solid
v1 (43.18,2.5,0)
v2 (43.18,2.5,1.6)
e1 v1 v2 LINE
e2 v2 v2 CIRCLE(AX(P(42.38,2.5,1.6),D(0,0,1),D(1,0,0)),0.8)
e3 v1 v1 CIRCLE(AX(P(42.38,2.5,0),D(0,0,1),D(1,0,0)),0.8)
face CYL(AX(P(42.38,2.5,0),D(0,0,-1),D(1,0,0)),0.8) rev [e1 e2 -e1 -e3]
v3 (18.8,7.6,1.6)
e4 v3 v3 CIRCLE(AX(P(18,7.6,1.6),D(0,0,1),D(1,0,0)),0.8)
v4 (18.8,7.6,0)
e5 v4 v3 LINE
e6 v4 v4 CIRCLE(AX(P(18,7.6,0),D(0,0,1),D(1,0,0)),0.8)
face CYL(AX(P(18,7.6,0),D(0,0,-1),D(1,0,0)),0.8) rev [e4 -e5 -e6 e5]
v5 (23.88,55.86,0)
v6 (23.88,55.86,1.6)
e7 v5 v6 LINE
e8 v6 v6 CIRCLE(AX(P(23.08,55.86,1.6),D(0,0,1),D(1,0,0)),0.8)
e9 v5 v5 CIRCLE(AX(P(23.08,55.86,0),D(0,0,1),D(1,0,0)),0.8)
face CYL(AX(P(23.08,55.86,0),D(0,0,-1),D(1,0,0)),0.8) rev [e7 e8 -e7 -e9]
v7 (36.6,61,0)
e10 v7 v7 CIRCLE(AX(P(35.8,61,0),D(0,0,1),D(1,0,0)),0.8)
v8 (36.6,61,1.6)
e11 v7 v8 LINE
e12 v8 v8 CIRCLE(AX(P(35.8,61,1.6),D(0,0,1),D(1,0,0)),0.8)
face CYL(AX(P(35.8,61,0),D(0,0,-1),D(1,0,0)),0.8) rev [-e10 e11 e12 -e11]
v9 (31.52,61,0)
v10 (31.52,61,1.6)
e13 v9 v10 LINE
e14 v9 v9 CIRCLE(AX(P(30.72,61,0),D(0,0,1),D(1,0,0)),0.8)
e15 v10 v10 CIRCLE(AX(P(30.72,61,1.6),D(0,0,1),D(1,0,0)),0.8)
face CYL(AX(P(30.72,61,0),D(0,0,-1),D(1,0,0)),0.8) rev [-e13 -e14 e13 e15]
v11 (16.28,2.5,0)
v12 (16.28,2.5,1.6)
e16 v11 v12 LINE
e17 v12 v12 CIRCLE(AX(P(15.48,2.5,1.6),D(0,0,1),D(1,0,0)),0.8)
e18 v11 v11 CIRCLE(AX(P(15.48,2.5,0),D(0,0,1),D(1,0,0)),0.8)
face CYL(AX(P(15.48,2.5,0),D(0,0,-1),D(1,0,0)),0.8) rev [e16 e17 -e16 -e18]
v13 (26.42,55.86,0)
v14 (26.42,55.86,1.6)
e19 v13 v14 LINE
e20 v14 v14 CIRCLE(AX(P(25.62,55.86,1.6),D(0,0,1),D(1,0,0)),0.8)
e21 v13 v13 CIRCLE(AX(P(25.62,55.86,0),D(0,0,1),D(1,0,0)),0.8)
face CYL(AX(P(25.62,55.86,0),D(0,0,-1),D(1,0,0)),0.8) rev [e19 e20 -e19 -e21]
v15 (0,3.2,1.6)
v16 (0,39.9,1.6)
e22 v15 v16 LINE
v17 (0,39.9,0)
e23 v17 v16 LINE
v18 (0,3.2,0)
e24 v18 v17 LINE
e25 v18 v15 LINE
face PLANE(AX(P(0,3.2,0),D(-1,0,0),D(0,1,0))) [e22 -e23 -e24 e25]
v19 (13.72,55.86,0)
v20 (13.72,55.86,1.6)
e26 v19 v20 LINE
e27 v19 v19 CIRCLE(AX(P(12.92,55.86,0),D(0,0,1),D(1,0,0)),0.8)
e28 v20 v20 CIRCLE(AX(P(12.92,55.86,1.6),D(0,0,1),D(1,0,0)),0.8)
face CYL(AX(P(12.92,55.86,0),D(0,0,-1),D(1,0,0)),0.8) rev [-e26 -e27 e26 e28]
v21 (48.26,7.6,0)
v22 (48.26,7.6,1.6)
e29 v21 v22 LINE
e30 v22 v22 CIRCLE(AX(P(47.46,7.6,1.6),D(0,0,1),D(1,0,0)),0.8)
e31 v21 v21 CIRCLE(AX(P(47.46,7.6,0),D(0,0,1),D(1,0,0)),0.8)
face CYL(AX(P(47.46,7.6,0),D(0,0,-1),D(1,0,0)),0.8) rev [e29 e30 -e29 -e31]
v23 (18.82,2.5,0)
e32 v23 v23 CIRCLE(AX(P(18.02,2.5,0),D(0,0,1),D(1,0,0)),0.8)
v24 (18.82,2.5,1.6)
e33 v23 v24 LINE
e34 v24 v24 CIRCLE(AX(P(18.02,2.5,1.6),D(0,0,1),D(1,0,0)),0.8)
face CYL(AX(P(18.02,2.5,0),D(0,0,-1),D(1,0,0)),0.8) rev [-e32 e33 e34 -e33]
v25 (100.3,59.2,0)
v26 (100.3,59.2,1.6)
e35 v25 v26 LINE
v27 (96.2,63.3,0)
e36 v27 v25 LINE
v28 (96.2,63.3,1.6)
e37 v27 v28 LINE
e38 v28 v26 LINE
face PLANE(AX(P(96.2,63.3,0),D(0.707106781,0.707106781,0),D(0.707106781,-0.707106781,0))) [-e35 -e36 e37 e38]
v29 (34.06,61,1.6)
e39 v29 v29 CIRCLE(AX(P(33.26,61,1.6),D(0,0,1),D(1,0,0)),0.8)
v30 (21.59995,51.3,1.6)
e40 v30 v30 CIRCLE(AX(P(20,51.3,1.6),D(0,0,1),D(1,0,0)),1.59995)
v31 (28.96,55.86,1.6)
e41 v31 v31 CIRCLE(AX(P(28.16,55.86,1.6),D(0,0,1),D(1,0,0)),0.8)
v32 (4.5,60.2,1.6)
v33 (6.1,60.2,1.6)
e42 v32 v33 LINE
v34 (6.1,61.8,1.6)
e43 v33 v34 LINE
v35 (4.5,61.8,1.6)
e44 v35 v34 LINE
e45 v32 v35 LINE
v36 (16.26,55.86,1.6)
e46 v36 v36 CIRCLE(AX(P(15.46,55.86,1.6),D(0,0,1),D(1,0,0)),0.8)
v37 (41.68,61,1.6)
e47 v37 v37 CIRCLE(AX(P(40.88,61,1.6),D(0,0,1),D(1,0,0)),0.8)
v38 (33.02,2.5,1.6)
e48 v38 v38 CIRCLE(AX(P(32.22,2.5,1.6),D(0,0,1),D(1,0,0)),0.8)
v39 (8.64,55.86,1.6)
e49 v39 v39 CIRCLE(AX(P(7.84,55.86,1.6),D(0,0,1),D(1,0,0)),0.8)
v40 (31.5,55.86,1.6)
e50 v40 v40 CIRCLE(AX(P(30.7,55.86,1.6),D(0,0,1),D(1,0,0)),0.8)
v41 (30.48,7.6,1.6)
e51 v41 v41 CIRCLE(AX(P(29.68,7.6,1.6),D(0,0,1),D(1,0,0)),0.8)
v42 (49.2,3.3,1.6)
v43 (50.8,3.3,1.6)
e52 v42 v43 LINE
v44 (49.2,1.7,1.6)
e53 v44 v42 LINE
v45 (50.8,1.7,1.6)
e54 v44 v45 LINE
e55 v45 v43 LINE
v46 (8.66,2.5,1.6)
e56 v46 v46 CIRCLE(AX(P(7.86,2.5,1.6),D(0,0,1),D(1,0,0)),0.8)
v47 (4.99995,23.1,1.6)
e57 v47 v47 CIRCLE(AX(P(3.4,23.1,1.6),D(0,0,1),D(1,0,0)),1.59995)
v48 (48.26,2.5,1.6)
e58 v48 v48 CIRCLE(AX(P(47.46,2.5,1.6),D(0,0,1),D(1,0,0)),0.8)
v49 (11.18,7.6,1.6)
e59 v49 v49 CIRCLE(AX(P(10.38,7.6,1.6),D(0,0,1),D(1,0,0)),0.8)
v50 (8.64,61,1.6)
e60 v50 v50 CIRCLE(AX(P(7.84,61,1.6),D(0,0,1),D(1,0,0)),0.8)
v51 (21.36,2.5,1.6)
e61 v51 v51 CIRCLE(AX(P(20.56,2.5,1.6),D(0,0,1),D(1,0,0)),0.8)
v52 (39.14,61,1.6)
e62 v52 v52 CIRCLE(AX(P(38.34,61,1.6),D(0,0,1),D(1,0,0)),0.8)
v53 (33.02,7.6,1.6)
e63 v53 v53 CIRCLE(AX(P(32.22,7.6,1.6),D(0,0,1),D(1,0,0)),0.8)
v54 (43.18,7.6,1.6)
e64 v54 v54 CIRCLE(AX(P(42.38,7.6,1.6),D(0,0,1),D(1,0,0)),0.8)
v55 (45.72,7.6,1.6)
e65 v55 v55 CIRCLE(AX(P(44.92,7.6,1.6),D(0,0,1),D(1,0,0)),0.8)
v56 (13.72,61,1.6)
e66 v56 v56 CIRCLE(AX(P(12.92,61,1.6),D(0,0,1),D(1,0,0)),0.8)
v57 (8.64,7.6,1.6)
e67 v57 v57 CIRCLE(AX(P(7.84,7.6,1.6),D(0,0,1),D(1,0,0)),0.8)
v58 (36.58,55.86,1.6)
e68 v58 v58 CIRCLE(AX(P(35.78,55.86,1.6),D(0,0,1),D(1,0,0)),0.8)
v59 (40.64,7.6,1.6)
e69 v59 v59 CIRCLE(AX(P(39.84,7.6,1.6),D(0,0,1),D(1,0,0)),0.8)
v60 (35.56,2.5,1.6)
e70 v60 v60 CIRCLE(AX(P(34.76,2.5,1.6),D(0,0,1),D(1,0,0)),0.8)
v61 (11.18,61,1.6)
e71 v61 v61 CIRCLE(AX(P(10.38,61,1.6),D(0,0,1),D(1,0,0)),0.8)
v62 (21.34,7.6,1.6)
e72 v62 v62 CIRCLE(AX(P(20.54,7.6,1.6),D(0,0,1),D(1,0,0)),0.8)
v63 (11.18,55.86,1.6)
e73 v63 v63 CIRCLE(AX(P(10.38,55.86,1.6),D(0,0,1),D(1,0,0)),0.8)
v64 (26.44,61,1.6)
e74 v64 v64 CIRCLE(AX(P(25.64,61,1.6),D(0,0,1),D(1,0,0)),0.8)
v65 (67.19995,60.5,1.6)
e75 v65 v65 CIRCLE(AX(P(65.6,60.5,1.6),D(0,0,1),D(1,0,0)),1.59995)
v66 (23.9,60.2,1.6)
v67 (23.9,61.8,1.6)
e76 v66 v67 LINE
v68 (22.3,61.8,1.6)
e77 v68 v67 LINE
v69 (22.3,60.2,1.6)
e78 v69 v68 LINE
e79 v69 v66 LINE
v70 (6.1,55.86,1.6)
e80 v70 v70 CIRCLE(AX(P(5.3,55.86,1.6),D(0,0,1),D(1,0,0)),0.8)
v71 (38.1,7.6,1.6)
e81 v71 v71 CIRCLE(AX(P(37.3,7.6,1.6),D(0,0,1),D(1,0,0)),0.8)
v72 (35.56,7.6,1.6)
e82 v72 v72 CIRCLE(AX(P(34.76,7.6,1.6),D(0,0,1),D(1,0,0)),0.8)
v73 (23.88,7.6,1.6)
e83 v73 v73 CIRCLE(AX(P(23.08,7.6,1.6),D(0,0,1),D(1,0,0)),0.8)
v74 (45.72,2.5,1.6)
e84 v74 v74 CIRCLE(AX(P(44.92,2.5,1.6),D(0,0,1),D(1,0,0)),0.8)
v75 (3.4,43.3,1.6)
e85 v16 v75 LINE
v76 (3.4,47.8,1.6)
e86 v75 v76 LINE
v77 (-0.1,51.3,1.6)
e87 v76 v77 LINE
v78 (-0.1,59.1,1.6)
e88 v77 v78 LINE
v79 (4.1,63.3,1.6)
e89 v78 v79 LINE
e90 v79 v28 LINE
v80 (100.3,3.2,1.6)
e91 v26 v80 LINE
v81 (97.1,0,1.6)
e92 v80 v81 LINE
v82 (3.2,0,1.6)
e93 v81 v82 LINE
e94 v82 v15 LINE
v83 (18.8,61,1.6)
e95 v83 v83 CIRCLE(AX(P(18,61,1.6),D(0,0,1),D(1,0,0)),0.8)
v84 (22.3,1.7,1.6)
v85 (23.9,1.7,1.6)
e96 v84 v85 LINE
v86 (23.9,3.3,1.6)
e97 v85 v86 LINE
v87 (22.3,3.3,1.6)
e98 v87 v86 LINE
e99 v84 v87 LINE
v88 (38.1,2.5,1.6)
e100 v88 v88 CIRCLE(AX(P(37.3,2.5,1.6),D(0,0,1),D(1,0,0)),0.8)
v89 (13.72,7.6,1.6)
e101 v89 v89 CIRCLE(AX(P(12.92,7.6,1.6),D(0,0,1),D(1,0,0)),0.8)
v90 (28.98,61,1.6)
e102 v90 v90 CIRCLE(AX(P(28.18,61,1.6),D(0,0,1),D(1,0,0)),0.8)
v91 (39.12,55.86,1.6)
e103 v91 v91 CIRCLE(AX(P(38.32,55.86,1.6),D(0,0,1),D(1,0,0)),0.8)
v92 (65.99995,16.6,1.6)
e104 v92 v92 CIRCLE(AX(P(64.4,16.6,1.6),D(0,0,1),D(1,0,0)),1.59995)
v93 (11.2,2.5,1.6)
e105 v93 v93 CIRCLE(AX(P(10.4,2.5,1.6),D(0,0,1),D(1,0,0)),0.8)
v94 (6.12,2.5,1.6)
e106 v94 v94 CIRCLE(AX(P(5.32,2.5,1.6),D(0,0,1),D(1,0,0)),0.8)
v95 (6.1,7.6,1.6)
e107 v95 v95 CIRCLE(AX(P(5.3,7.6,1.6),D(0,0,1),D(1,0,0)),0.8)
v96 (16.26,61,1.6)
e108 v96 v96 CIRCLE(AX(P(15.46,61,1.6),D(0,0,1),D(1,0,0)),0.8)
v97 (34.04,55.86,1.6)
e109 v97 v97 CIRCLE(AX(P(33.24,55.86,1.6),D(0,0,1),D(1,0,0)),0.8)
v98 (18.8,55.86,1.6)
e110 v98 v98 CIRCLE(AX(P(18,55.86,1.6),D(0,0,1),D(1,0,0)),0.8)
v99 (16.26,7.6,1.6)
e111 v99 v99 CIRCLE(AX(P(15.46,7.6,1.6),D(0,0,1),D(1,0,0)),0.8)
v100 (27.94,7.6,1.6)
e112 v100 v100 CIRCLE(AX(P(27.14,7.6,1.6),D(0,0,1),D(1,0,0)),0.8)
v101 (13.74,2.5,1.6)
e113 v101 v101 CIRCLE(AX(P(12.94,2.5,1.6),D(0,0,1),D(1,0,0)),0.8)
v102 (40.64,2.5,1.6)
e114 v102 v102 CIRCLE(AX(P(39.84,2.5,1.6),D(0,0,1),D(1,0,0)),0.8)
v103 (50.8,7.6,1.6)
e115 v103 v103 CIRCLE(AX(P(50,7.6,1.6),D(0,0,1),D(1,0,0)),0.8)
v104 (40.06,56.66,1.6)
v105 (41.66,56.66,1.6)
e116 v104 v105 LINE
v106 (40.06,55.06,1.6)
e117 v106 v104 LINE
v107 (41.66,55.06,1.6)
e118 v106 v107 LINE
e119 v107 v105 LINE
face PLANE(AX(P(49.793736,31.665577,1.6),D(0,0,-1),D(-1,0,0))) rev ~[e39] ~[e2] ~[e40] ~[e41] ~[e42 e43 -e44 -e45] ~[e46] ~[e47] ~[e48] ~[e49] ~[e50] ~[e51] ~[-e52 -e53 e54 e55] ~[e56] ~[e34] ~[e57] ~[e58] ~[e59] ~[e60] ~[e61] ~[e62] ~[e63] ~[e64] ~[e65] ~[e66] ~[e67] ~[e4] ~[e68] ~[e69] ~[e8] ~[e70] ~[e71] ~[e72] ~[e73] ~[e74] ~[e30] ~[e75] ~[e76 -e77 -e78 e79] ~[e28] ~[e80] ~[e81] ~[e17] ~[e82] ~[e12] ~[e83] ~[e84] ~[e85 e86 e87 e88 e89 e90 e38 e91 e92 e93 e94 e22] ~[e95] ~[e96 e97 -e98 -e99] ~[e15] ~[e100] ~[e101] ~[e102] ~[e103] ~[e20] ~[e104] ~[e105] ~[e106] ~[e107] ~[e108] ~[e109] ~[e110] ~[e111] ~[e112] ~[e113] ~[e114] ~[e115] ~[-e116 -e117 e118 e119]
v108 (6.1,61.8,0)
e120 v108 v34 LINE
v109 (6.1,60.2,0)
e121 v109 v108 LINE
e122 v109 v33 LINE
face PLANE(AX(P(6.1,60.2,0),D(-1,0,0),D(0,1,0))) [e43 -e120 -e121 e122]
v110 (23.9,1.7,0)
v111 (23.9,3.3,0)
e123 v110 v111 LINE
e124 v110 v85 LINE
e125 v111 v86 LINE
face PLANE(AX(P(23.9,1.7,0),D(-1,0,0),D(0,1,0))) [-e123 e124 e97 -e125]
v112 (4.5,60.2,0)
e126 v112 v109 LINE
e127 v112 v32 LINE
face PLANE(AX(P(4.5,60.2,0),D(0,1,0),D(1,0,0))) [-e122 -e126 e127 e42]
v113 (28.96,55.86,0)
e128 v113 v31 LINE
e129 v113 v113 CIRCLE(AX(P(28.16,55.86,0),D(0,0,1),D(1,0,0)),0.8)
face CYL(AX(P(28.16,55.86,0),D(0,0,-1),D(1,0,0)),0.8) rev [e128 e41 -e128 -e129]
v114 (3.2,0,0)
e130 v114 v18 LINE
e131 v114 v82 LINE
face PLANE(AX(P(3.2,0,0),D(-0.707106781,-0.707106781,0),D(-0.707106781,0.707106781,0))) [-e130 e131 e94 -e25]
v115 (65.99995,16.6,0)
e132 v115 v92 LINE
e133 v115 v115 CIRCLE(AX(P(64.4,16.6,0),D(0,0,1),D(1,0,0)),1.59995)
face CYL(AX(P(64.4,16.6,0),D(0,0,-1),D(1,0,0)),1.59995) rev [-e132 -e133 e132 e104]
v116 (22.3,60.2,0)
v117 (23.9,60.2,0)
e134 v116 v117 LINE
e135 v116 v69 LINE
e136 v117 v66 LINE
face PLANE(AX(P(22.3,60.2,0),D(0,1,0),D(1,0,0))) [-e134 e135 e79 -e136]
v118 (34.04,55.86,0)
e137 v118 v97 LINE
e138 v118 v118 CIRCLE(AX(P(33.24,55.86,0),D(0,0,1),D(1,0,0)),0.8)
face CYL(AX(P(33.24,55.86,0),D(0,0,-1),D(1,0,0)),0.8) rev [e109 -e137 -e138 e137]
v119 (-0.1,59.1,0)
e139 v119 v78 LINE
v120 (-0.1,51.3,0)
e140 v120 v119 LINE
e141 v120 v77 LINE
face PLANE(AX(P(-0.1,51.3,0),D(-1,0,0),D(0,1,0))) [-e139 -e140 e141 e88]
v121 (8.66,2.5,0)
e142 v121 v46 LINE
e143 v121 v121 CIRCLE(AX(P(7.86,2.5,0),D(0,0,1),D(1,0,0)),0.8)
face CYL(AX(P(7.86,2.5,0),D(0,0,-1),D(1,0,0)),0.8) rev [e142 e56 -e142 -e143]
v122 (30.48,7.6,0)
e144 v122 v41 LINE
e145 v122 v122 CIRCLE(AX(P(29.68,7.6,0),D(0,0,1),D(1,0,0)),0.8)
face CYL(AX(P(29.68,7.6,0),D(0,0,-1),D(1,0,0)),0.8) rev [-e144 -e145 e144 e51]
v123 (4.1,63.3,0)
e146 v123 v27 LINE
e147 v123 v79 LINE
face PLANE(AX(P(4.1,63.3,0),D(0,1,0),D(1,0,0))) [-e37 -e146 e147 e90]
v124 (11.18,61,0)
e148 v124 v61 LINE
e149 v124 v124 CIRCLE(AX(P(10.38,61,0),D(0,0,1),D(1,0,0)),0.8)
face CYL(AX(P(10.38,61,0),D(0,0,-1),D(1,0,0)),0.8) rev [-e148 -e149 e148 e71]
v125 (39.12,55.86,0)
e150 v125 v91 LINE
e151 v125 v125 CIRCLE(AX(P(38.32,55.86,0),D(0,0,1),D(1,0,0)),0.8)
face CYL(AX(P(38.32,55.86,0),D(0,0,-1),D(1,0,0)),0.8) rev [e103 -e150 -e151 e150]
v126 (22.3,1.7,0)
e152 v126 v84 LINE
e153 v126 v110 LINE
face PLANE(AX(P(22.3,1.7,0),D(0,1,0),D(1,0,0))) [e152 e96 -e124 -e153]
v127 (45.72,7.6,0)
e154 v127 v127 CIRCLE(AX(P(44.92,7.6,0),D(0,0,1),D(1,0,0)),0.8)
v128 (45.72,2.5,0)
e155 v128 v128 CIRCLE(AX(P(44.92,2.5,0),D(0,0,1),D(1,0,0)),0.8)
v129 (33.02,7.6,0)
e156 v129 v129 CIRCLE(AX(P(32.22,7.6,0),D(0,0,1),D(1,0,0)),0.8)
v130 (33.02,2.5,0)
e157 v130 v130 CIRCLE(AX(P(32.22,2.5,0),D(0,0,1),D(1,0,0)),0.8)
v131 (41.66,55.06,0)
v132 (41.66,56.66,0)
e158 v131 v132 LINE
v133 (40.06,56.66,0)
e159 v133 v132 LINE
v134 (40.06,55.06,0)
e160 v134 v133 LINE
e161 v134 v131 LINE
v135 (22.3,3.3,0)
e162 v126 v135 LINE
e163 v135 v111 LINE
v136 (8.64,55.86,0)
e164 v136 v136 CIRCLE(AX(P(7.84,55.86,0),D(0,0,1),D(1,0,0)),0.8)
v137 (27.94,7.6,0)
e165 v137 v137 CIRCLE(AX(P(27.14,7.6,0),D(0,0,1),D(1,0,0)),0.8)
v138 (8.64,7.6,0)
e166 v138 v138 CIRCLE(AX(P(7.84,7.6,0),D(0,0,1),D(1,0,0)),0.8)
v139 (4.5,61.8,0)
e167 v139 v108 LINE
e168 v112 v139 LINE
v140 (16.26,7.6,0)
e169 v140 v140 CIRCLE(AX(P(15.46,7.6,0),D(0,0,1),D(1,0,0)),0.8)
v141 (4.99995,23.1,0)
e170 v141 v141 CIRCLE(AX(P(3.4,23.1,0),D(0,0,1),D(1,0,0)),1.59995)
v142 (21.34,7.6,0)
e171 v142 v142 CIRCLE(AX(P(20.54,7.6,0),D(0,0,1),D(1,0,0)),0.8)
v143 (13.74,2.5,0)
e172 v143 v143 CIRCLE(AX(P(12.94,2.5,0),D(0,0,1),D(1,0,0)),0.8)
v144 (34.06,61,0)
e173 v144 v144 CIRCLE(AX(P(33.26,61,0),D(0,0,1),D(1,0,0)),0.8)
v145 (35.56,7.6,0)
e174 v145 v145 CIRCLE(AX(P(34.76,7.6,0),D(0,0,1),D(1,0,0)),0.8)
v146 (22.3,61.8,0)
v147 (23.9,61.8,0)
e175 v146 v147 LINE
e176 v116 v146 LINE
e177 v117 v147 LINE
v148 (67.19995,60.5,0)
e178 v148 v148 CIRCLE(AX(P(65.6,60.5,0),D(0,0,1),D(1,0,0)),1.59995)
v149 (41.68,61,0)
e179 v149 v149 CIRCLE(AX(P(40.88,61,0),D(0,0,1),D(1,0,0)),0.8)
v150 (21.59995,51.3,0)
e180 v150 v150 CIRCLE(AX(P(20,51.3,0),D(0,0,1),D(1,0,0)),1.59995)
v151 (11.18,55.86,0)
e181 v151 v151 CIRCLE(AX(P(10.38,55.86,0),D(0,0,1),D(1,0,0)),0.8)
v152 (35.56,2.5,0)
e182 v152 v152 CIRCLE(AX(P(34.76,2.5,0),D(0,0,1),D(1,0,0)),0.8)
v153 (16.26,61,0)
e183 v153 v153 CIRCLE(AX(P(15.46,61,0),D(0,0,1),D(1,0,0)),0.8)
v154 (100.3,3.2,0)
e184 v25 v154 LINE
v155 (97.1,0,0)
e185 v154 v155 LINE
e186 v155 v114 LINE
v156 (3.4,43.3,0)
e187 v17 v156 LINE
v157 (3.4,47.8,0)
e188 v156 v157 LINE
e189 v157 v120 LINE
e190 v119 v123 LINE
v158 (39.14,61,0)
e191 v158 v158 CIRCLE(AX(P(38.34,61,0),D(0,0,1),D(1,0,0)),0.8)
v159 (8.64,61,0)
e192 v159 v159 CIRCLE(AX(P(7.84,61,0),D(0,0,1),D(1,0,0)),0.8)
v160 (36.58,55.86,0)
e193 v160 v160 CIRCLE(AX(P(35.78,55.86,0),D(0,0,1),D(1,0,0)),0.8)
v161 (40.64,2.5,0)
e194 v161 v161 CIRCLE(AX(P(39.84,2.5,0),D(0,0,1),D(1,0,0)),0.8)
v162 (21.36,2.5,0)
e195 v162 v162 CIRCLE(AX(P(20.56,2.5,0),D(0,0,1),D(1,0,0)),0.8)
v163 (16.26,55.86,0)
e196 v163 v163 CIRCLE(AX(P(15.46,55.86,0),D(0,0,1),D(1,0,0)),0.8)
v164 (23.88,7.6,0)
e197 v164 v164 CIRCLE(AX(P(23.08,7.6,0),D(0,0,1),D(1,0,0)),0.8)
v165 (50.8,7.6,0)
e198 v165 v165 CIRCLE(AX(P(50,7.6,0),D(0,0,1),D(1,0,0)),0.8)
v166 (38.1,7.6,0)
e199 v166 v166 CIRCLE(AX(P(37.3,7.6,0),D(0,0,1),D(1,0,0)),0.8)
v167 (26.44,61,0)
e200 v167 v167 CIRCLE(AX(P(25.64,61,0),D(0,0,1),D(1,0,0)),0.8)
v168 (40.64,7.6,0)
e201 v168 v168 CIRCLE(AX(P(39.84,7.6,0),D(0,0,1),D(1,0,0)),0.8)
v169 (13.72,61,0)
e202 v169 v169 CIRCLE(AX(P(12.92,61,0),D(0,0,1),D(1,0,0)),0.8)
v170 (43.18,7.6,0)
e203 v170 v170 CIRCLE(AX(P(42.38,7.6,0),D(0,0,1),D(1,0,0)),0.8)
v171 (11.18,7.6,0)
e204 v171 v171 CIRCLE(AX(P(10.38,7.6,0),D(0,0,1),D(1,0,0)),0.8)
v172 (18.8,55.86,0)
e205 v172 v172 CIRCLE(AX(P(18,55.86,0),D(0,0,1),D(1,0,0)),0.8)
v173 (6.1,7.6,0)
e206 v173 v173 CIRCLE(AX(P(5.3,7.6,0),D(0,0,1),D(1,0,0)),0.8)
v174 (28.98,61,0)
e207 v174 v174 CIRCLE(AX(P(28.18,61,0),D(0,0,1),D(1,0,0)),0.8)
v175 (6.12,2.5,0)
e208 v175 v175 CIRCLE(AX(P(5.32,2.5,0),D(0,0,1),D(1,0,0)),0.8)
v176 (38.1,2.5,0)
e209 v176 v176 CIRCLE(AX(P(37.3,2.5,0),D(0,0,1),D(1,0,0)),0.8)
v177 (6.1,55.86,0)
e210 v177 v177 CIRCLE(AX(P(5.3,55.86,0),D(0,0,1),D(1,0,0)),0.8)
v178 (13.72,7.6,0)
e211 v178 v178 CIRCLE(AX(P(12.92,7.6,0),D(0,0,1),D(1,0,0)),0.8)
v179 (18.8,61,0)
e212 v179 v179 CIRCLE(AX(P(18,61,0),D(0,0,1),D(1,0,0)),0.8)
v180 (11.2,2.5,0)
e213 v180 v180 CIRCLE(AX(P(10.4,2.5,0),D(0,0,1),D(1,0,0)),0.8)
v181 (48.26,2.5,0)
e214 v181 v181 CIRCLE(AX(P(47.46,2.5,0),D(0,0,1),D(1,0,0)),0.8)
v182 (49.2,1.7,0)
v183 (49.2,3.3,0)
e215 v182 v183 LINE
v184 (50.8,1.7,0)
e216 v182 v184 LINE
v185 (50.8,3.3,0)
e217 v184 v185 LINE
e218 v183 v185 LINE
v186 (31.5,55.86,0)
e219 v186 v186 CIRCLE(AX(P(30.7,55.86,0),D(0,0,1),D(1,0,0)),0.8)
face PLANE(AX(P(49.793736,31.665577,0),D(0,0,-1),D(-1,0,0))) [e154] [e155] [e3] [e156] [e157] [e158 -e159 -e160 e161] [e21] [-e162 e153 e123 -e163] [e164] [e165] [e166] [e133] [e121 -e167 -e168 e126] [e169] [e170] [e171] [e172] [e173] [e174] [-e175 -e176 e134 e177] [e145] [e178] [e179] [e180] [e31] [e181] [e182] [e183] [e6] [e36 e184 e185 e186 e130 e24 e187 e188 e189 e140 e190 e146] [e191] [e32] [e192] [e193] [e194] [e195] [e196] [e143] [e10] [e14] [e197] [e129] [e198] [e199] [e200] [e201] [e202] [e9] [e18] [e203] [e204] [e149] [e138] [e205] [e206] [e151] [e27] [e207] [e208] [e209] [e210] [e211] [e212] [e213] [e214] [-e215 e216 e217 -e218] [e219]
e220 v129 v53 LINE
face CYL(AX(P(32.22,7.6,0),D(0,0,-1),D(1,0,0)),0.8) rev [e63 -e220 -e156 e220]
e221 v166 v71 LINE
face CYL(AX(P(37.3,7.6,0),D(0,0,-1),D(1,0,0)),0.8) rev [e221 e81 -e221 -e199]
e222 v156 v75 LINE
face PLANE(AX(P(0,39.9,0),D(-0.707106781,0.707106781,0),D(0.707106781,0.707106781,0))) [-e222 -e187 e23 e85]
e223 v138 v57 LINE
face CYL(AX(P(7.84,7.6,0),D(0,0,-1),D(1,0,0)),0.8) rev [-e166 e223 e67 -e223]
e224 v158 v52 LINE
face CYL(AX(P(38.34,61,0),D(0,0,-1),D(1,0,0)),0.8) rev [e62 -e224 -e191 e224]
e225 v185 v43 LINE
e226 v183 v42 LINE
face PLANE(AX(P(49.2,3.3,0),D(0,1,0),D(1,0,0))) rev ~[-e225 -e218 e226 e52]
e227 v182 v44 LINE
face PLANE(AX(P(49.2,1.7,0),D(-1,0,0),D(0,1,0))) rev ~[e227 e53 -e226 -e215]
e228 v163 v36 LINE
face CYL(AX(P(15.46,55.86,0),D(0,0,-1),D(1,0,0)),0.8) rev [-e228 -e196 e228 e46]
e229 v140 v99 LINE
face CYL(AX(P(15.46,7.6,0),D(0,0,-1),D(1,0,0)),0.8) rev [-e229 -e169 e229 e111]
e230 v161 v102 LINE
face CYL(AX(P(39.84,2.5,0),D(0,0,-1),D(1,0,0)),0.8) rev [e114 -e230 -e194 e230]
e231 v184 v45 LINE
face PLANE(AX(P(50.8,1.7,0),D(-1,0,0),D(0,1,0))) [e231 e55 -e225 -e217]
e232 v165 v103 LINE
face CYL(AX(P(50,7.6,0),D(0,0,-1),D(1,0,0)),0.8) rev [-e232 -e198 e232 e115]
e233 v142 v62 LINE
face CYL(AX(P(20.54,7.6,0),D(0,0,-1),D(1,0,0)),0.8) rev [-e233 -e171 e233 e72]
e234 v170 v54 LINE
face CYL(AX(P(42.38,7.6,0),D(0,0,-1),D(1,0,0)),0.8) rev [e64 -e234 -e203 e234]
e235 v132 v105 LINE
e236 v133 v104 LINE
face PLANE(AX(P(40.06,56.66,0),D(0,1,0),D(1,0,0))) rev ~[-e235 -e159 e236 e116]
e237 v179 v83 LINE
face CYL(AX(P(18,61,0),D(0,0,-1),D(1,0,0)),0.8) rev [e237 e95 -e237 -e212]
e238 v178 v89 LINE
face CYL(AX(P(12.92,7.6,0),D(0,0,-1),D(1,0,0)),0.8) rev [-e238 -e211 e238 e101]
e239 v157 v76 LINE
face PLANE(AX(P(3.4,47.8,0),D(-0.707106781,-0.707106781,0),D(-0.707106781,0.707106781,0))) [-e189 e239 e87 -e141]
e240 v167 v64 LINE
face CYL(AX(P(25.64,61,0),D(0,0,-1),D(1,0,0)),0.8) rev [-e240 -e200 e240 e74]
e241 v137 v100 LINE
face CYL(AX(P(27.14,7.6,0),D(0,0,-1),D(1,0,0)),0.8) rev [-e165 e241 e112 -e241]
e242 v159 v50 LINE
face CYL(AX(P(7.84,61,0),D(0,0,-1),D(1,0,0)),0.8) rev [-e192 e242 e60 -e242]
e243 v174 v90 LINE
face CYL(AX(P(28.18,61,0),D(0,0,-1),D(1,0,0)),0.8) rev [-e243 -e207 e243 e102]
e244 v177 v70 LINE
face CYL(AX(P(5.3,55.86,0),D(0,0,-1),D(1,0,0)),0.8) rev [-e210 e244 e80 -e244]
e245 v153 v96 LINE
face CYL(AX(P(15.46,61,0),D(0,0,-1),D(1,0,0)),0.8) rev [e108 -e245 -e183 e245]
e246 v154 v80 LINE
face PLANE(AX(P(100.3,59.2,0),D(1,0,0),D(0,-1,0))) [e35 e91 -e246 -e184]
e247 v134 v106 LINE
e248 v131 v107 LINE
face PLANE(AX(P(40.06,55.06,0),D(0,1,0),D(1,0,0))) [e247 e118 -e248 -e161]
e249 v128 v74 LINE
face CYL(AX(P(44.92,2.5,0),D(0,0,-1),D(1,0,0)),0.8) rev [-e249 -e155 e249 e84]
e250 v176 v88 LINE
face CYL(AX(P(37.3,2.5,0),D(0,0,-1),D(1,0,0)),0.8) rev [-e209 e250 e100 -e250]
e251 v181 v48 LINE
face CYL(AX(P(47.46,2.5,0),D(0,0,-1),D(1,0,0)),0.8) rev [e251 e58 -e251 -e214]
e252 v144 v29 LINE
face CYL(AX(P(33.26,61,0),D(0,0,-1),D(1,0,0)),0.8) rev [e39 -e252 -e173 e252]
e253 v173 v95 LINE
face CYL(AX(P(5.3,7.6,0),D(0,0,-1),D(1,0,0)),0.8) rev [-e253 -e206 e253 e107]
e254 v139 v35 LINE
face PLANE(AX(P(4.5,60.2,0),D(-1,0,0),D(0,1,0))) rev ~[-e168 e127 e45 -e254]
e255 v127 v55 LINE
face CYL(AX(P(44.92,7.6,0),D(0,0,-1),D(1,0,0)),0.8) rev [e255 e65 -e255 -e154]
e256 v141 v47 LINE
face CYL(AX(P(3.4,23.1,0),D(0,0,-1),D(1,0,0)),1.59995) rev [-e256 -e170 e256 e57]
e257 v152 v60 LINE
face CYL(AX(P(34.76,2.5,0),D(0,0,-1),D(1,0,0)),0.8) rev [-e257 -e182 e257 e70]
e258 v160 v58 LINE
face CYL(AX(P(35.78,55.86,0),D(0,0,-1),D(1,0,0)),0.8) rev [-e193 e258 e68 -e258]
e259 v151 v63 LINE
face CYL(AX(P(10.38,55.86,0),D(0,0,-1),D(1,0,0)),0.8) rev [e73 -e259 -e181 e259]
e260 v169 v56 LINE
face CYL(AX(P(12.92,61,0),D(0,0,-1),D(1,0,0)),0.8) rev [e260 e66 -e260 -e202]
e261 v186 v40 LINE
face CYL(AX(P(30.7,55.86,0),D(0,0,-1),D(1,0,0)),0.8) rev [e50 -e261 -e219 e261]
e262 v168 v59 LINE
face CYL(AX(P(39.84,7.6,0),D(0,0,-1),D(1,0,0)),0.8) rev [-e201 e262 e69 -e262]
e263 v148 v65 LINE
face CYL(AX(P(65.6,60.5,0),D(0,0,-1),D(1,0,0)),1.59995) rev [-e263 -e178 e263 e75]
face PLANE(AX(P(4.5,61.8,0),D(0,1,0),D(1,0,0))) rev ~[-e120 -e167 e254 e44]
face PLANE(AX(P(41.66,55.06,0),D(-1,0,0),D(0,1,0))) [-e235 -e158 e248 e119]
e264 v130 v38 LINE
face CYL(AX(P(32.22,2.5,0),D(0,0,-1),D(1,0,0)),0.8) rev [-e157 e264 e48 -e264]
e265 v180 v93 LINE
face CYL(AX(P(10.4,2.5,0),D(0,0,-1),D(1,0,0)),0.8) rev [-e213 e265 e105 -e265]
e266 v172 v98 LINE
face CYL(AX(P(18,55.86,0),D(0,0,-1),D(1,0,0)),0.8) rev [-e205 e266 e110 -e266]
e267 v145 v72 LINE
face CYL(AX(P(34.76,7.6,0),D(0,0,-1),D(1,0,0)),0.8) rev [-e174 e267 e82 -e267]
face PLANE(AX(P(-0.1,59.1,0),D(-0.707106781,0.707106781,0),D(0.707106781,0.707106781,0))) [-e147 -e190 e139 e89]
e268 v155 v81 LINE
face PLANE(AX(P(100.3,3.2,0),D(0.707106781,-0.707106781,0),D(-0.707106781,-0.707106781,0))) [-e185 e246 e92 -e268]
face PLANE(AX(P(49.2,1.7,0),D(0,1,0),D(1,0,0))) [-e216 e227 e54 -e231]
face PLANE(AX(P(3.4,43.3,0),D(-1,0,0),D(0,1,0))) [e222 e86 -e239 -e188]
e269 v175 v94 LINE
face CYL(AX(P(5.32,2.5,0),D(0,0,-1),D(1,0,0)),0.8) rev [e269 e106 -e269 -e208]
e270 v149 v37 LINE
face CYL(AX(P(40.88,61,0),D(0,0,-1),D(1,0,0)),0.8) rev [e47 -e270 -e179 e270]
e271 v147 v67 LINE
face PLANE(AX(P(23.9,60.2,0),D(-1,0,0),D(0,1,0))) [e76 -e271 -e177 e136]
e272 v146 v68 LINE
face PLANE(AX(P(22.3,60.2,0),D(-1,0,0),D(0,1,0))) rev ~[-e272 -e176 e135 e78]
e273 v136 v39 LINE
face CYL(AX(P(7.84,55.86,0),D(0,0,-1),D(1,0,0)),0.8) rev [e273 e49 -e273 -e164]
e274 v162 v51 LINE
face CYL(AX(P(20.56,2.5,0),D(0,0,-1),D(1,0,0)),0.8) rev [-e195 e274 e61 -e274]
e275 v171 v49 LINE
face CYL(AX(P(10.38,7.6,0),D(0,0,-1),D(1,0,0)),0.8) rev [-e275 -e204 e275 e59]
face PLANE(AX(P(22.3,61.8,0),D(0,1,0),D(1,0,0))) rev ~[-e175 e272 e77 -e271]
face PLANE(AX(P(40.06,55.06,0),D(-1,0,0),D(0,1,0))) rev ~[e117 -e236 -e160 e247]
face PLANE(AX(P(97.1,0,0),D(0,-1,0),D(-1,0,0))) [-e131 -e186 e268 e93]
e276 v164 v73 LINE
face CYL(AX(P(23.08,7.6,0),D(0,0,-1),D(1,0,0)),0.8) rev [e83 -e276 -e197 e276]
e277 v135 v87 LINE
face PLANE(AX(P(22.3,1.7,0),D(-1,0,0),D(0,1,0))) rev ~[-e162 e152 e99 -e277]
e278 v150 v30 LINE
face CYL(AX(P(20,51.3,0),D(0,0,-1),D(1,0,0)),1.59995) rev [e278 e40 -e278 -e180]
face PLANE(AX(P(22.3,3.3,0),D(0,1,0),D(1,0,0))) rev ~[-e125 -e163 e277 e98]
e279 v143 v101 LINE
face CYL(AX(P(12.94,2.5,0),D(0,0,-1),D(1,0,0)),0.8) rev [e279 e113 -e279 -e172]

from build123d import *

# Parameters (mm, degrees)
MODEL_R            = 0.8
MODEL_R_2          = 1.59995
MODEL_W            = 1.6
MODEL_H            = 1.6
BOSS_EXTRU_1_DEPTH = 1.6


with BuildPart() as part:
    # Model → Boss.-Extru.1 (new body)
    with BuildSketch(Plane.XY):
        Polygon((0, 3.2), (0, 39.9), (3.4, 43.3), (3.4, 47.8), (-0.1, 51.3), (-0.1, 59.1), (4.1, 63.3), (96.2, 63.3), (100.3, 59.2), (100.3, 3.2), (97.1, 0), (3.2, 0), align=None)
        with Locations((5.3, 7.6)):
            Circle(MODEL_R, mode=Mode.SUBTRACT)
        with Locations((7.84, 7.6)):
            Circle(MODEL_R, mode=Mode.SUBTRACT)
        with Locations((10.38, 7.6)):
            Circle(MODEL_R, mode=Mode.SUBTRACT)
        with Locations((12.92, 7.6)):
            Circle(MODEL_R, mode=Mode.SUBTRACT)
        with Locations((15.46, 7.6)):
            Circle(MODEL_R, mode=Mode.SUBTRACT)
        with Locations((18, 7.6)):
            Circle(MODEL_R, mode=Mode.SUBTRACT)
        with Locations((20.54, 7.6)):
            Circle(MODEL_R, mode=Mode.SUBTRACT)
        with Locations((23.08, 7.6)):
            Circle(MODEL_R, mode=Mode.SUBTRACT)
        with Locations((27.14, 7.6)):
            Circle(MODEL_R, mode=Mode.SUBTRACT)
        with Locations((29.68, 7.6)):
            Circle(MODEL_R, mode=Mode.SUBTRACT)
        with Locations((32.22, 7.6)):
            Circle(MODEL_R, mode=Mode.SUBTRACT)
        with Locations((34.76, 7.6)):
            Circle(MODEL_R, mode=Mode.SUBTRACT)
        with Locations((37.3, 7.6)):
            Circle(MODEL_R, mode=Mode.SUBTRACT)
        with Locations((39.84, 7.6)):
            Circle(MODEL_R, mode=Mode.SUBTRACT)
        with Locations((42.38, 7.6)):
            Circle(MODEL_R, mode=Mode.SUBTRACT)
        with Locations((44.92, 7.6)):
            Circle(MODEL_R, mode=Mode.SUBTRACT)
        with Locations((47.46, 7.6)):
            Circle(MODEL_R, mode=Mode.SUBTRACT)
        with Locations((50, 7.6)):
            Circle(MODEL_R, mode=Mode.SUBTRACT)
        with Locations((38.32, 55.86)):
            Circle(MODEL_R, mode=Mode.SUBTRACT)
        with Locations((35.78, 55.86)):
            Circle(MODEL_R, mode=Mode.SUBTRACT)
        with Locations((33.24, 55.86)):
            Circle(MODEL_R, mode=Mode.SUBTRACT)
        with Locations((30.7, 55.86)):
            Circle(MODEL_R, mode=Mode.SUBTRACT)
        with Locations((28.16, 55.86)):
            Circle(MODEL_R, mode=Mode.SUBTRACT)
        with Locations((25.62, 55.86)):
            Circle(MODEL_R, mode=Mode.SUBTRACT)
        with Locations((23.08, 55.86)):
            Circle(MODEL_R, mode=Mode.SUBTRACT)
        with Locations((18, 55.86)):
            Circle(MODEL_R, mode=Mode.SUBTRACT)
        with Locations((15.46, 55.86)):
            Circle(MODEL_R, mode=Mode.SUBTRACT)
        with Locations((12.92, 55.86)):
            Circle(MODEL_R, mode=Mode.SUBTRACT)
        with Locations((10.38, 55.86)):
            Circle(MODEL_R, mode=Mode.SUBTRACT)
        with Locations((7.84, 55.86)):
            Circle(MODEL_R, mode=Mode.SUBTRACT)
        with Locations((5.3, 55.86)):
            Circle(MODEL_R, mode=Mode.SUBTRACT)
        with Locations((20, 51.3)):
            Circle(MODEL_R_2, mode=Mode.SUBTRACT)
        with Locations((65.6, 60.5)):
            Circle(MODEL_R_2, mode=Mode.SUBTRACT)
        with Locations((64.4, 16.6)):
            Circle(MODEL_R_2, mode=Mode.SUBTRACT)
        with Locations((3.4, 23.1)):
            Circle(MODEL_R_2, mode=Mode.SUBTRACT)
        with Locations((7.84, 61)):
            Circle(MODEL_R, mode=Mode.SUBTRACT)
        with Locations((10.38, 61)):
            Circle(MODEL_R, mode=Mode.SUBTRACT)
        with Locations((12.92, 61)):
            Circle(MODEL_R, mode=Mode.SUBTRACT)
        with Locations((15.46, 61)):
            Circle(MODEL_R, mode=Mode.SUBTRACT)
        with Locations((18, 61)):
            Circle(MODEL_R, mode=Mode.SUBTRACT)
        with Locations((47.46, 2.5)):
            Circle(MODEL_R, mode=Mode.SUBTRACT)
        with Locations((44.92, 2.5)):
            Circle(MODEL_R, mode=Mode.SUBTRACT)
        with Locations((42.38, 2.5)):
            Circle(MODEL_R, mode=Mode.SUBTRACT)
        with Locations((39.84, 2.5)):
            Circle(MODEL_R, mode=Mode.SUBTRACT)
        with Locations((37.3, 2.5)):
            Circle(MODEL_R, mode=Mode.SUBTRACT)
        with Locations((34.76, 2.5)):
            Circle(MODEL_R, mode=Mode.SUBTRACT)
        with Locations((32.22, 2.5)):
            Circle(MODEL_R, mode=Mode.SUBTRACT)
        with Locations((20.56, 2.5)):
            Circle(MODEL_R, mode=Mode.SUBTRACT)
        with Locations((18.02, 2.5)):
            Circle(MODEL_R, mode=Mode.SUBTRACT)
        with Locations((15.48, 2.5)):
            Circle(MODEL_R, mode=Mode.SUBTRACT)
        with Locations((12.94, 2.5)):
            Circle(MODEL_R, mode=Mode.SUBTRACT)
        with Locations((10.4, 2.5)):
            Circle(MODEL_R, mode=Mode.SUBTRACT)
        with Locations((7.86, 2.5)):
            Circle(MODEL_R, mode=Mode.SUBTRACT)
        with Locations((5.32, 2.5)):
            Circle(MODEL_R, mode=Mode.SUBTRACT)
        with Locations((25.64, 61)):
            Circle(MODEL_R, mode=Mode.SUBTRACT)
        with Locations((28.18, 61)):
            Circle(MODEL_R, mode=Mode.SUBTRACT)
        with Locations((30.72, 61)):
            Circle(MODEL_R, mode=Mode.SUBTRACT)
        with Locations((33.26, 61)):
            Circle(MODEL_R, mode=Mode.SUBTRACT)
        with Locations((35.8, 61)):
            Circle(MODEL_R, mode=Mode.SUBTRACT)
        with Locations((38.34, 61)):
            Circle(MODEL_R, mode=Mode.SUBTRACT)
        with Locations((40.88, 61)):
            Circle(MODEL_R, mode=Mode.SUBTRACT)
        with Locations((40.86, 55.86)):
            Rectangle(MODEL_W, MODEL_H, mode=Mode.SUBTRACT)
        with Locations((5.3, 61)):
            Rectangle(MODEL_W, MODEL_H, mode=Mode.SUBTRACT)
        with Locations((50, 2.5)):
            Rectangle(MODEL_W, MODEL_H, mode=Mode.SUBTRACT)
        with Locations((23.1, 2.5)):
            Rectangle(MODEL_W, MODEL_H, mode=Mode.SUBTRACT)
        with Locations((23.1, 61)):
            Rectangle(MODEL_W, MODEL_H, mode=Mode.SUBTRACT)
    extrude(amount=BOSS_EXTRU_1_DEPTH)


solid = part.part
